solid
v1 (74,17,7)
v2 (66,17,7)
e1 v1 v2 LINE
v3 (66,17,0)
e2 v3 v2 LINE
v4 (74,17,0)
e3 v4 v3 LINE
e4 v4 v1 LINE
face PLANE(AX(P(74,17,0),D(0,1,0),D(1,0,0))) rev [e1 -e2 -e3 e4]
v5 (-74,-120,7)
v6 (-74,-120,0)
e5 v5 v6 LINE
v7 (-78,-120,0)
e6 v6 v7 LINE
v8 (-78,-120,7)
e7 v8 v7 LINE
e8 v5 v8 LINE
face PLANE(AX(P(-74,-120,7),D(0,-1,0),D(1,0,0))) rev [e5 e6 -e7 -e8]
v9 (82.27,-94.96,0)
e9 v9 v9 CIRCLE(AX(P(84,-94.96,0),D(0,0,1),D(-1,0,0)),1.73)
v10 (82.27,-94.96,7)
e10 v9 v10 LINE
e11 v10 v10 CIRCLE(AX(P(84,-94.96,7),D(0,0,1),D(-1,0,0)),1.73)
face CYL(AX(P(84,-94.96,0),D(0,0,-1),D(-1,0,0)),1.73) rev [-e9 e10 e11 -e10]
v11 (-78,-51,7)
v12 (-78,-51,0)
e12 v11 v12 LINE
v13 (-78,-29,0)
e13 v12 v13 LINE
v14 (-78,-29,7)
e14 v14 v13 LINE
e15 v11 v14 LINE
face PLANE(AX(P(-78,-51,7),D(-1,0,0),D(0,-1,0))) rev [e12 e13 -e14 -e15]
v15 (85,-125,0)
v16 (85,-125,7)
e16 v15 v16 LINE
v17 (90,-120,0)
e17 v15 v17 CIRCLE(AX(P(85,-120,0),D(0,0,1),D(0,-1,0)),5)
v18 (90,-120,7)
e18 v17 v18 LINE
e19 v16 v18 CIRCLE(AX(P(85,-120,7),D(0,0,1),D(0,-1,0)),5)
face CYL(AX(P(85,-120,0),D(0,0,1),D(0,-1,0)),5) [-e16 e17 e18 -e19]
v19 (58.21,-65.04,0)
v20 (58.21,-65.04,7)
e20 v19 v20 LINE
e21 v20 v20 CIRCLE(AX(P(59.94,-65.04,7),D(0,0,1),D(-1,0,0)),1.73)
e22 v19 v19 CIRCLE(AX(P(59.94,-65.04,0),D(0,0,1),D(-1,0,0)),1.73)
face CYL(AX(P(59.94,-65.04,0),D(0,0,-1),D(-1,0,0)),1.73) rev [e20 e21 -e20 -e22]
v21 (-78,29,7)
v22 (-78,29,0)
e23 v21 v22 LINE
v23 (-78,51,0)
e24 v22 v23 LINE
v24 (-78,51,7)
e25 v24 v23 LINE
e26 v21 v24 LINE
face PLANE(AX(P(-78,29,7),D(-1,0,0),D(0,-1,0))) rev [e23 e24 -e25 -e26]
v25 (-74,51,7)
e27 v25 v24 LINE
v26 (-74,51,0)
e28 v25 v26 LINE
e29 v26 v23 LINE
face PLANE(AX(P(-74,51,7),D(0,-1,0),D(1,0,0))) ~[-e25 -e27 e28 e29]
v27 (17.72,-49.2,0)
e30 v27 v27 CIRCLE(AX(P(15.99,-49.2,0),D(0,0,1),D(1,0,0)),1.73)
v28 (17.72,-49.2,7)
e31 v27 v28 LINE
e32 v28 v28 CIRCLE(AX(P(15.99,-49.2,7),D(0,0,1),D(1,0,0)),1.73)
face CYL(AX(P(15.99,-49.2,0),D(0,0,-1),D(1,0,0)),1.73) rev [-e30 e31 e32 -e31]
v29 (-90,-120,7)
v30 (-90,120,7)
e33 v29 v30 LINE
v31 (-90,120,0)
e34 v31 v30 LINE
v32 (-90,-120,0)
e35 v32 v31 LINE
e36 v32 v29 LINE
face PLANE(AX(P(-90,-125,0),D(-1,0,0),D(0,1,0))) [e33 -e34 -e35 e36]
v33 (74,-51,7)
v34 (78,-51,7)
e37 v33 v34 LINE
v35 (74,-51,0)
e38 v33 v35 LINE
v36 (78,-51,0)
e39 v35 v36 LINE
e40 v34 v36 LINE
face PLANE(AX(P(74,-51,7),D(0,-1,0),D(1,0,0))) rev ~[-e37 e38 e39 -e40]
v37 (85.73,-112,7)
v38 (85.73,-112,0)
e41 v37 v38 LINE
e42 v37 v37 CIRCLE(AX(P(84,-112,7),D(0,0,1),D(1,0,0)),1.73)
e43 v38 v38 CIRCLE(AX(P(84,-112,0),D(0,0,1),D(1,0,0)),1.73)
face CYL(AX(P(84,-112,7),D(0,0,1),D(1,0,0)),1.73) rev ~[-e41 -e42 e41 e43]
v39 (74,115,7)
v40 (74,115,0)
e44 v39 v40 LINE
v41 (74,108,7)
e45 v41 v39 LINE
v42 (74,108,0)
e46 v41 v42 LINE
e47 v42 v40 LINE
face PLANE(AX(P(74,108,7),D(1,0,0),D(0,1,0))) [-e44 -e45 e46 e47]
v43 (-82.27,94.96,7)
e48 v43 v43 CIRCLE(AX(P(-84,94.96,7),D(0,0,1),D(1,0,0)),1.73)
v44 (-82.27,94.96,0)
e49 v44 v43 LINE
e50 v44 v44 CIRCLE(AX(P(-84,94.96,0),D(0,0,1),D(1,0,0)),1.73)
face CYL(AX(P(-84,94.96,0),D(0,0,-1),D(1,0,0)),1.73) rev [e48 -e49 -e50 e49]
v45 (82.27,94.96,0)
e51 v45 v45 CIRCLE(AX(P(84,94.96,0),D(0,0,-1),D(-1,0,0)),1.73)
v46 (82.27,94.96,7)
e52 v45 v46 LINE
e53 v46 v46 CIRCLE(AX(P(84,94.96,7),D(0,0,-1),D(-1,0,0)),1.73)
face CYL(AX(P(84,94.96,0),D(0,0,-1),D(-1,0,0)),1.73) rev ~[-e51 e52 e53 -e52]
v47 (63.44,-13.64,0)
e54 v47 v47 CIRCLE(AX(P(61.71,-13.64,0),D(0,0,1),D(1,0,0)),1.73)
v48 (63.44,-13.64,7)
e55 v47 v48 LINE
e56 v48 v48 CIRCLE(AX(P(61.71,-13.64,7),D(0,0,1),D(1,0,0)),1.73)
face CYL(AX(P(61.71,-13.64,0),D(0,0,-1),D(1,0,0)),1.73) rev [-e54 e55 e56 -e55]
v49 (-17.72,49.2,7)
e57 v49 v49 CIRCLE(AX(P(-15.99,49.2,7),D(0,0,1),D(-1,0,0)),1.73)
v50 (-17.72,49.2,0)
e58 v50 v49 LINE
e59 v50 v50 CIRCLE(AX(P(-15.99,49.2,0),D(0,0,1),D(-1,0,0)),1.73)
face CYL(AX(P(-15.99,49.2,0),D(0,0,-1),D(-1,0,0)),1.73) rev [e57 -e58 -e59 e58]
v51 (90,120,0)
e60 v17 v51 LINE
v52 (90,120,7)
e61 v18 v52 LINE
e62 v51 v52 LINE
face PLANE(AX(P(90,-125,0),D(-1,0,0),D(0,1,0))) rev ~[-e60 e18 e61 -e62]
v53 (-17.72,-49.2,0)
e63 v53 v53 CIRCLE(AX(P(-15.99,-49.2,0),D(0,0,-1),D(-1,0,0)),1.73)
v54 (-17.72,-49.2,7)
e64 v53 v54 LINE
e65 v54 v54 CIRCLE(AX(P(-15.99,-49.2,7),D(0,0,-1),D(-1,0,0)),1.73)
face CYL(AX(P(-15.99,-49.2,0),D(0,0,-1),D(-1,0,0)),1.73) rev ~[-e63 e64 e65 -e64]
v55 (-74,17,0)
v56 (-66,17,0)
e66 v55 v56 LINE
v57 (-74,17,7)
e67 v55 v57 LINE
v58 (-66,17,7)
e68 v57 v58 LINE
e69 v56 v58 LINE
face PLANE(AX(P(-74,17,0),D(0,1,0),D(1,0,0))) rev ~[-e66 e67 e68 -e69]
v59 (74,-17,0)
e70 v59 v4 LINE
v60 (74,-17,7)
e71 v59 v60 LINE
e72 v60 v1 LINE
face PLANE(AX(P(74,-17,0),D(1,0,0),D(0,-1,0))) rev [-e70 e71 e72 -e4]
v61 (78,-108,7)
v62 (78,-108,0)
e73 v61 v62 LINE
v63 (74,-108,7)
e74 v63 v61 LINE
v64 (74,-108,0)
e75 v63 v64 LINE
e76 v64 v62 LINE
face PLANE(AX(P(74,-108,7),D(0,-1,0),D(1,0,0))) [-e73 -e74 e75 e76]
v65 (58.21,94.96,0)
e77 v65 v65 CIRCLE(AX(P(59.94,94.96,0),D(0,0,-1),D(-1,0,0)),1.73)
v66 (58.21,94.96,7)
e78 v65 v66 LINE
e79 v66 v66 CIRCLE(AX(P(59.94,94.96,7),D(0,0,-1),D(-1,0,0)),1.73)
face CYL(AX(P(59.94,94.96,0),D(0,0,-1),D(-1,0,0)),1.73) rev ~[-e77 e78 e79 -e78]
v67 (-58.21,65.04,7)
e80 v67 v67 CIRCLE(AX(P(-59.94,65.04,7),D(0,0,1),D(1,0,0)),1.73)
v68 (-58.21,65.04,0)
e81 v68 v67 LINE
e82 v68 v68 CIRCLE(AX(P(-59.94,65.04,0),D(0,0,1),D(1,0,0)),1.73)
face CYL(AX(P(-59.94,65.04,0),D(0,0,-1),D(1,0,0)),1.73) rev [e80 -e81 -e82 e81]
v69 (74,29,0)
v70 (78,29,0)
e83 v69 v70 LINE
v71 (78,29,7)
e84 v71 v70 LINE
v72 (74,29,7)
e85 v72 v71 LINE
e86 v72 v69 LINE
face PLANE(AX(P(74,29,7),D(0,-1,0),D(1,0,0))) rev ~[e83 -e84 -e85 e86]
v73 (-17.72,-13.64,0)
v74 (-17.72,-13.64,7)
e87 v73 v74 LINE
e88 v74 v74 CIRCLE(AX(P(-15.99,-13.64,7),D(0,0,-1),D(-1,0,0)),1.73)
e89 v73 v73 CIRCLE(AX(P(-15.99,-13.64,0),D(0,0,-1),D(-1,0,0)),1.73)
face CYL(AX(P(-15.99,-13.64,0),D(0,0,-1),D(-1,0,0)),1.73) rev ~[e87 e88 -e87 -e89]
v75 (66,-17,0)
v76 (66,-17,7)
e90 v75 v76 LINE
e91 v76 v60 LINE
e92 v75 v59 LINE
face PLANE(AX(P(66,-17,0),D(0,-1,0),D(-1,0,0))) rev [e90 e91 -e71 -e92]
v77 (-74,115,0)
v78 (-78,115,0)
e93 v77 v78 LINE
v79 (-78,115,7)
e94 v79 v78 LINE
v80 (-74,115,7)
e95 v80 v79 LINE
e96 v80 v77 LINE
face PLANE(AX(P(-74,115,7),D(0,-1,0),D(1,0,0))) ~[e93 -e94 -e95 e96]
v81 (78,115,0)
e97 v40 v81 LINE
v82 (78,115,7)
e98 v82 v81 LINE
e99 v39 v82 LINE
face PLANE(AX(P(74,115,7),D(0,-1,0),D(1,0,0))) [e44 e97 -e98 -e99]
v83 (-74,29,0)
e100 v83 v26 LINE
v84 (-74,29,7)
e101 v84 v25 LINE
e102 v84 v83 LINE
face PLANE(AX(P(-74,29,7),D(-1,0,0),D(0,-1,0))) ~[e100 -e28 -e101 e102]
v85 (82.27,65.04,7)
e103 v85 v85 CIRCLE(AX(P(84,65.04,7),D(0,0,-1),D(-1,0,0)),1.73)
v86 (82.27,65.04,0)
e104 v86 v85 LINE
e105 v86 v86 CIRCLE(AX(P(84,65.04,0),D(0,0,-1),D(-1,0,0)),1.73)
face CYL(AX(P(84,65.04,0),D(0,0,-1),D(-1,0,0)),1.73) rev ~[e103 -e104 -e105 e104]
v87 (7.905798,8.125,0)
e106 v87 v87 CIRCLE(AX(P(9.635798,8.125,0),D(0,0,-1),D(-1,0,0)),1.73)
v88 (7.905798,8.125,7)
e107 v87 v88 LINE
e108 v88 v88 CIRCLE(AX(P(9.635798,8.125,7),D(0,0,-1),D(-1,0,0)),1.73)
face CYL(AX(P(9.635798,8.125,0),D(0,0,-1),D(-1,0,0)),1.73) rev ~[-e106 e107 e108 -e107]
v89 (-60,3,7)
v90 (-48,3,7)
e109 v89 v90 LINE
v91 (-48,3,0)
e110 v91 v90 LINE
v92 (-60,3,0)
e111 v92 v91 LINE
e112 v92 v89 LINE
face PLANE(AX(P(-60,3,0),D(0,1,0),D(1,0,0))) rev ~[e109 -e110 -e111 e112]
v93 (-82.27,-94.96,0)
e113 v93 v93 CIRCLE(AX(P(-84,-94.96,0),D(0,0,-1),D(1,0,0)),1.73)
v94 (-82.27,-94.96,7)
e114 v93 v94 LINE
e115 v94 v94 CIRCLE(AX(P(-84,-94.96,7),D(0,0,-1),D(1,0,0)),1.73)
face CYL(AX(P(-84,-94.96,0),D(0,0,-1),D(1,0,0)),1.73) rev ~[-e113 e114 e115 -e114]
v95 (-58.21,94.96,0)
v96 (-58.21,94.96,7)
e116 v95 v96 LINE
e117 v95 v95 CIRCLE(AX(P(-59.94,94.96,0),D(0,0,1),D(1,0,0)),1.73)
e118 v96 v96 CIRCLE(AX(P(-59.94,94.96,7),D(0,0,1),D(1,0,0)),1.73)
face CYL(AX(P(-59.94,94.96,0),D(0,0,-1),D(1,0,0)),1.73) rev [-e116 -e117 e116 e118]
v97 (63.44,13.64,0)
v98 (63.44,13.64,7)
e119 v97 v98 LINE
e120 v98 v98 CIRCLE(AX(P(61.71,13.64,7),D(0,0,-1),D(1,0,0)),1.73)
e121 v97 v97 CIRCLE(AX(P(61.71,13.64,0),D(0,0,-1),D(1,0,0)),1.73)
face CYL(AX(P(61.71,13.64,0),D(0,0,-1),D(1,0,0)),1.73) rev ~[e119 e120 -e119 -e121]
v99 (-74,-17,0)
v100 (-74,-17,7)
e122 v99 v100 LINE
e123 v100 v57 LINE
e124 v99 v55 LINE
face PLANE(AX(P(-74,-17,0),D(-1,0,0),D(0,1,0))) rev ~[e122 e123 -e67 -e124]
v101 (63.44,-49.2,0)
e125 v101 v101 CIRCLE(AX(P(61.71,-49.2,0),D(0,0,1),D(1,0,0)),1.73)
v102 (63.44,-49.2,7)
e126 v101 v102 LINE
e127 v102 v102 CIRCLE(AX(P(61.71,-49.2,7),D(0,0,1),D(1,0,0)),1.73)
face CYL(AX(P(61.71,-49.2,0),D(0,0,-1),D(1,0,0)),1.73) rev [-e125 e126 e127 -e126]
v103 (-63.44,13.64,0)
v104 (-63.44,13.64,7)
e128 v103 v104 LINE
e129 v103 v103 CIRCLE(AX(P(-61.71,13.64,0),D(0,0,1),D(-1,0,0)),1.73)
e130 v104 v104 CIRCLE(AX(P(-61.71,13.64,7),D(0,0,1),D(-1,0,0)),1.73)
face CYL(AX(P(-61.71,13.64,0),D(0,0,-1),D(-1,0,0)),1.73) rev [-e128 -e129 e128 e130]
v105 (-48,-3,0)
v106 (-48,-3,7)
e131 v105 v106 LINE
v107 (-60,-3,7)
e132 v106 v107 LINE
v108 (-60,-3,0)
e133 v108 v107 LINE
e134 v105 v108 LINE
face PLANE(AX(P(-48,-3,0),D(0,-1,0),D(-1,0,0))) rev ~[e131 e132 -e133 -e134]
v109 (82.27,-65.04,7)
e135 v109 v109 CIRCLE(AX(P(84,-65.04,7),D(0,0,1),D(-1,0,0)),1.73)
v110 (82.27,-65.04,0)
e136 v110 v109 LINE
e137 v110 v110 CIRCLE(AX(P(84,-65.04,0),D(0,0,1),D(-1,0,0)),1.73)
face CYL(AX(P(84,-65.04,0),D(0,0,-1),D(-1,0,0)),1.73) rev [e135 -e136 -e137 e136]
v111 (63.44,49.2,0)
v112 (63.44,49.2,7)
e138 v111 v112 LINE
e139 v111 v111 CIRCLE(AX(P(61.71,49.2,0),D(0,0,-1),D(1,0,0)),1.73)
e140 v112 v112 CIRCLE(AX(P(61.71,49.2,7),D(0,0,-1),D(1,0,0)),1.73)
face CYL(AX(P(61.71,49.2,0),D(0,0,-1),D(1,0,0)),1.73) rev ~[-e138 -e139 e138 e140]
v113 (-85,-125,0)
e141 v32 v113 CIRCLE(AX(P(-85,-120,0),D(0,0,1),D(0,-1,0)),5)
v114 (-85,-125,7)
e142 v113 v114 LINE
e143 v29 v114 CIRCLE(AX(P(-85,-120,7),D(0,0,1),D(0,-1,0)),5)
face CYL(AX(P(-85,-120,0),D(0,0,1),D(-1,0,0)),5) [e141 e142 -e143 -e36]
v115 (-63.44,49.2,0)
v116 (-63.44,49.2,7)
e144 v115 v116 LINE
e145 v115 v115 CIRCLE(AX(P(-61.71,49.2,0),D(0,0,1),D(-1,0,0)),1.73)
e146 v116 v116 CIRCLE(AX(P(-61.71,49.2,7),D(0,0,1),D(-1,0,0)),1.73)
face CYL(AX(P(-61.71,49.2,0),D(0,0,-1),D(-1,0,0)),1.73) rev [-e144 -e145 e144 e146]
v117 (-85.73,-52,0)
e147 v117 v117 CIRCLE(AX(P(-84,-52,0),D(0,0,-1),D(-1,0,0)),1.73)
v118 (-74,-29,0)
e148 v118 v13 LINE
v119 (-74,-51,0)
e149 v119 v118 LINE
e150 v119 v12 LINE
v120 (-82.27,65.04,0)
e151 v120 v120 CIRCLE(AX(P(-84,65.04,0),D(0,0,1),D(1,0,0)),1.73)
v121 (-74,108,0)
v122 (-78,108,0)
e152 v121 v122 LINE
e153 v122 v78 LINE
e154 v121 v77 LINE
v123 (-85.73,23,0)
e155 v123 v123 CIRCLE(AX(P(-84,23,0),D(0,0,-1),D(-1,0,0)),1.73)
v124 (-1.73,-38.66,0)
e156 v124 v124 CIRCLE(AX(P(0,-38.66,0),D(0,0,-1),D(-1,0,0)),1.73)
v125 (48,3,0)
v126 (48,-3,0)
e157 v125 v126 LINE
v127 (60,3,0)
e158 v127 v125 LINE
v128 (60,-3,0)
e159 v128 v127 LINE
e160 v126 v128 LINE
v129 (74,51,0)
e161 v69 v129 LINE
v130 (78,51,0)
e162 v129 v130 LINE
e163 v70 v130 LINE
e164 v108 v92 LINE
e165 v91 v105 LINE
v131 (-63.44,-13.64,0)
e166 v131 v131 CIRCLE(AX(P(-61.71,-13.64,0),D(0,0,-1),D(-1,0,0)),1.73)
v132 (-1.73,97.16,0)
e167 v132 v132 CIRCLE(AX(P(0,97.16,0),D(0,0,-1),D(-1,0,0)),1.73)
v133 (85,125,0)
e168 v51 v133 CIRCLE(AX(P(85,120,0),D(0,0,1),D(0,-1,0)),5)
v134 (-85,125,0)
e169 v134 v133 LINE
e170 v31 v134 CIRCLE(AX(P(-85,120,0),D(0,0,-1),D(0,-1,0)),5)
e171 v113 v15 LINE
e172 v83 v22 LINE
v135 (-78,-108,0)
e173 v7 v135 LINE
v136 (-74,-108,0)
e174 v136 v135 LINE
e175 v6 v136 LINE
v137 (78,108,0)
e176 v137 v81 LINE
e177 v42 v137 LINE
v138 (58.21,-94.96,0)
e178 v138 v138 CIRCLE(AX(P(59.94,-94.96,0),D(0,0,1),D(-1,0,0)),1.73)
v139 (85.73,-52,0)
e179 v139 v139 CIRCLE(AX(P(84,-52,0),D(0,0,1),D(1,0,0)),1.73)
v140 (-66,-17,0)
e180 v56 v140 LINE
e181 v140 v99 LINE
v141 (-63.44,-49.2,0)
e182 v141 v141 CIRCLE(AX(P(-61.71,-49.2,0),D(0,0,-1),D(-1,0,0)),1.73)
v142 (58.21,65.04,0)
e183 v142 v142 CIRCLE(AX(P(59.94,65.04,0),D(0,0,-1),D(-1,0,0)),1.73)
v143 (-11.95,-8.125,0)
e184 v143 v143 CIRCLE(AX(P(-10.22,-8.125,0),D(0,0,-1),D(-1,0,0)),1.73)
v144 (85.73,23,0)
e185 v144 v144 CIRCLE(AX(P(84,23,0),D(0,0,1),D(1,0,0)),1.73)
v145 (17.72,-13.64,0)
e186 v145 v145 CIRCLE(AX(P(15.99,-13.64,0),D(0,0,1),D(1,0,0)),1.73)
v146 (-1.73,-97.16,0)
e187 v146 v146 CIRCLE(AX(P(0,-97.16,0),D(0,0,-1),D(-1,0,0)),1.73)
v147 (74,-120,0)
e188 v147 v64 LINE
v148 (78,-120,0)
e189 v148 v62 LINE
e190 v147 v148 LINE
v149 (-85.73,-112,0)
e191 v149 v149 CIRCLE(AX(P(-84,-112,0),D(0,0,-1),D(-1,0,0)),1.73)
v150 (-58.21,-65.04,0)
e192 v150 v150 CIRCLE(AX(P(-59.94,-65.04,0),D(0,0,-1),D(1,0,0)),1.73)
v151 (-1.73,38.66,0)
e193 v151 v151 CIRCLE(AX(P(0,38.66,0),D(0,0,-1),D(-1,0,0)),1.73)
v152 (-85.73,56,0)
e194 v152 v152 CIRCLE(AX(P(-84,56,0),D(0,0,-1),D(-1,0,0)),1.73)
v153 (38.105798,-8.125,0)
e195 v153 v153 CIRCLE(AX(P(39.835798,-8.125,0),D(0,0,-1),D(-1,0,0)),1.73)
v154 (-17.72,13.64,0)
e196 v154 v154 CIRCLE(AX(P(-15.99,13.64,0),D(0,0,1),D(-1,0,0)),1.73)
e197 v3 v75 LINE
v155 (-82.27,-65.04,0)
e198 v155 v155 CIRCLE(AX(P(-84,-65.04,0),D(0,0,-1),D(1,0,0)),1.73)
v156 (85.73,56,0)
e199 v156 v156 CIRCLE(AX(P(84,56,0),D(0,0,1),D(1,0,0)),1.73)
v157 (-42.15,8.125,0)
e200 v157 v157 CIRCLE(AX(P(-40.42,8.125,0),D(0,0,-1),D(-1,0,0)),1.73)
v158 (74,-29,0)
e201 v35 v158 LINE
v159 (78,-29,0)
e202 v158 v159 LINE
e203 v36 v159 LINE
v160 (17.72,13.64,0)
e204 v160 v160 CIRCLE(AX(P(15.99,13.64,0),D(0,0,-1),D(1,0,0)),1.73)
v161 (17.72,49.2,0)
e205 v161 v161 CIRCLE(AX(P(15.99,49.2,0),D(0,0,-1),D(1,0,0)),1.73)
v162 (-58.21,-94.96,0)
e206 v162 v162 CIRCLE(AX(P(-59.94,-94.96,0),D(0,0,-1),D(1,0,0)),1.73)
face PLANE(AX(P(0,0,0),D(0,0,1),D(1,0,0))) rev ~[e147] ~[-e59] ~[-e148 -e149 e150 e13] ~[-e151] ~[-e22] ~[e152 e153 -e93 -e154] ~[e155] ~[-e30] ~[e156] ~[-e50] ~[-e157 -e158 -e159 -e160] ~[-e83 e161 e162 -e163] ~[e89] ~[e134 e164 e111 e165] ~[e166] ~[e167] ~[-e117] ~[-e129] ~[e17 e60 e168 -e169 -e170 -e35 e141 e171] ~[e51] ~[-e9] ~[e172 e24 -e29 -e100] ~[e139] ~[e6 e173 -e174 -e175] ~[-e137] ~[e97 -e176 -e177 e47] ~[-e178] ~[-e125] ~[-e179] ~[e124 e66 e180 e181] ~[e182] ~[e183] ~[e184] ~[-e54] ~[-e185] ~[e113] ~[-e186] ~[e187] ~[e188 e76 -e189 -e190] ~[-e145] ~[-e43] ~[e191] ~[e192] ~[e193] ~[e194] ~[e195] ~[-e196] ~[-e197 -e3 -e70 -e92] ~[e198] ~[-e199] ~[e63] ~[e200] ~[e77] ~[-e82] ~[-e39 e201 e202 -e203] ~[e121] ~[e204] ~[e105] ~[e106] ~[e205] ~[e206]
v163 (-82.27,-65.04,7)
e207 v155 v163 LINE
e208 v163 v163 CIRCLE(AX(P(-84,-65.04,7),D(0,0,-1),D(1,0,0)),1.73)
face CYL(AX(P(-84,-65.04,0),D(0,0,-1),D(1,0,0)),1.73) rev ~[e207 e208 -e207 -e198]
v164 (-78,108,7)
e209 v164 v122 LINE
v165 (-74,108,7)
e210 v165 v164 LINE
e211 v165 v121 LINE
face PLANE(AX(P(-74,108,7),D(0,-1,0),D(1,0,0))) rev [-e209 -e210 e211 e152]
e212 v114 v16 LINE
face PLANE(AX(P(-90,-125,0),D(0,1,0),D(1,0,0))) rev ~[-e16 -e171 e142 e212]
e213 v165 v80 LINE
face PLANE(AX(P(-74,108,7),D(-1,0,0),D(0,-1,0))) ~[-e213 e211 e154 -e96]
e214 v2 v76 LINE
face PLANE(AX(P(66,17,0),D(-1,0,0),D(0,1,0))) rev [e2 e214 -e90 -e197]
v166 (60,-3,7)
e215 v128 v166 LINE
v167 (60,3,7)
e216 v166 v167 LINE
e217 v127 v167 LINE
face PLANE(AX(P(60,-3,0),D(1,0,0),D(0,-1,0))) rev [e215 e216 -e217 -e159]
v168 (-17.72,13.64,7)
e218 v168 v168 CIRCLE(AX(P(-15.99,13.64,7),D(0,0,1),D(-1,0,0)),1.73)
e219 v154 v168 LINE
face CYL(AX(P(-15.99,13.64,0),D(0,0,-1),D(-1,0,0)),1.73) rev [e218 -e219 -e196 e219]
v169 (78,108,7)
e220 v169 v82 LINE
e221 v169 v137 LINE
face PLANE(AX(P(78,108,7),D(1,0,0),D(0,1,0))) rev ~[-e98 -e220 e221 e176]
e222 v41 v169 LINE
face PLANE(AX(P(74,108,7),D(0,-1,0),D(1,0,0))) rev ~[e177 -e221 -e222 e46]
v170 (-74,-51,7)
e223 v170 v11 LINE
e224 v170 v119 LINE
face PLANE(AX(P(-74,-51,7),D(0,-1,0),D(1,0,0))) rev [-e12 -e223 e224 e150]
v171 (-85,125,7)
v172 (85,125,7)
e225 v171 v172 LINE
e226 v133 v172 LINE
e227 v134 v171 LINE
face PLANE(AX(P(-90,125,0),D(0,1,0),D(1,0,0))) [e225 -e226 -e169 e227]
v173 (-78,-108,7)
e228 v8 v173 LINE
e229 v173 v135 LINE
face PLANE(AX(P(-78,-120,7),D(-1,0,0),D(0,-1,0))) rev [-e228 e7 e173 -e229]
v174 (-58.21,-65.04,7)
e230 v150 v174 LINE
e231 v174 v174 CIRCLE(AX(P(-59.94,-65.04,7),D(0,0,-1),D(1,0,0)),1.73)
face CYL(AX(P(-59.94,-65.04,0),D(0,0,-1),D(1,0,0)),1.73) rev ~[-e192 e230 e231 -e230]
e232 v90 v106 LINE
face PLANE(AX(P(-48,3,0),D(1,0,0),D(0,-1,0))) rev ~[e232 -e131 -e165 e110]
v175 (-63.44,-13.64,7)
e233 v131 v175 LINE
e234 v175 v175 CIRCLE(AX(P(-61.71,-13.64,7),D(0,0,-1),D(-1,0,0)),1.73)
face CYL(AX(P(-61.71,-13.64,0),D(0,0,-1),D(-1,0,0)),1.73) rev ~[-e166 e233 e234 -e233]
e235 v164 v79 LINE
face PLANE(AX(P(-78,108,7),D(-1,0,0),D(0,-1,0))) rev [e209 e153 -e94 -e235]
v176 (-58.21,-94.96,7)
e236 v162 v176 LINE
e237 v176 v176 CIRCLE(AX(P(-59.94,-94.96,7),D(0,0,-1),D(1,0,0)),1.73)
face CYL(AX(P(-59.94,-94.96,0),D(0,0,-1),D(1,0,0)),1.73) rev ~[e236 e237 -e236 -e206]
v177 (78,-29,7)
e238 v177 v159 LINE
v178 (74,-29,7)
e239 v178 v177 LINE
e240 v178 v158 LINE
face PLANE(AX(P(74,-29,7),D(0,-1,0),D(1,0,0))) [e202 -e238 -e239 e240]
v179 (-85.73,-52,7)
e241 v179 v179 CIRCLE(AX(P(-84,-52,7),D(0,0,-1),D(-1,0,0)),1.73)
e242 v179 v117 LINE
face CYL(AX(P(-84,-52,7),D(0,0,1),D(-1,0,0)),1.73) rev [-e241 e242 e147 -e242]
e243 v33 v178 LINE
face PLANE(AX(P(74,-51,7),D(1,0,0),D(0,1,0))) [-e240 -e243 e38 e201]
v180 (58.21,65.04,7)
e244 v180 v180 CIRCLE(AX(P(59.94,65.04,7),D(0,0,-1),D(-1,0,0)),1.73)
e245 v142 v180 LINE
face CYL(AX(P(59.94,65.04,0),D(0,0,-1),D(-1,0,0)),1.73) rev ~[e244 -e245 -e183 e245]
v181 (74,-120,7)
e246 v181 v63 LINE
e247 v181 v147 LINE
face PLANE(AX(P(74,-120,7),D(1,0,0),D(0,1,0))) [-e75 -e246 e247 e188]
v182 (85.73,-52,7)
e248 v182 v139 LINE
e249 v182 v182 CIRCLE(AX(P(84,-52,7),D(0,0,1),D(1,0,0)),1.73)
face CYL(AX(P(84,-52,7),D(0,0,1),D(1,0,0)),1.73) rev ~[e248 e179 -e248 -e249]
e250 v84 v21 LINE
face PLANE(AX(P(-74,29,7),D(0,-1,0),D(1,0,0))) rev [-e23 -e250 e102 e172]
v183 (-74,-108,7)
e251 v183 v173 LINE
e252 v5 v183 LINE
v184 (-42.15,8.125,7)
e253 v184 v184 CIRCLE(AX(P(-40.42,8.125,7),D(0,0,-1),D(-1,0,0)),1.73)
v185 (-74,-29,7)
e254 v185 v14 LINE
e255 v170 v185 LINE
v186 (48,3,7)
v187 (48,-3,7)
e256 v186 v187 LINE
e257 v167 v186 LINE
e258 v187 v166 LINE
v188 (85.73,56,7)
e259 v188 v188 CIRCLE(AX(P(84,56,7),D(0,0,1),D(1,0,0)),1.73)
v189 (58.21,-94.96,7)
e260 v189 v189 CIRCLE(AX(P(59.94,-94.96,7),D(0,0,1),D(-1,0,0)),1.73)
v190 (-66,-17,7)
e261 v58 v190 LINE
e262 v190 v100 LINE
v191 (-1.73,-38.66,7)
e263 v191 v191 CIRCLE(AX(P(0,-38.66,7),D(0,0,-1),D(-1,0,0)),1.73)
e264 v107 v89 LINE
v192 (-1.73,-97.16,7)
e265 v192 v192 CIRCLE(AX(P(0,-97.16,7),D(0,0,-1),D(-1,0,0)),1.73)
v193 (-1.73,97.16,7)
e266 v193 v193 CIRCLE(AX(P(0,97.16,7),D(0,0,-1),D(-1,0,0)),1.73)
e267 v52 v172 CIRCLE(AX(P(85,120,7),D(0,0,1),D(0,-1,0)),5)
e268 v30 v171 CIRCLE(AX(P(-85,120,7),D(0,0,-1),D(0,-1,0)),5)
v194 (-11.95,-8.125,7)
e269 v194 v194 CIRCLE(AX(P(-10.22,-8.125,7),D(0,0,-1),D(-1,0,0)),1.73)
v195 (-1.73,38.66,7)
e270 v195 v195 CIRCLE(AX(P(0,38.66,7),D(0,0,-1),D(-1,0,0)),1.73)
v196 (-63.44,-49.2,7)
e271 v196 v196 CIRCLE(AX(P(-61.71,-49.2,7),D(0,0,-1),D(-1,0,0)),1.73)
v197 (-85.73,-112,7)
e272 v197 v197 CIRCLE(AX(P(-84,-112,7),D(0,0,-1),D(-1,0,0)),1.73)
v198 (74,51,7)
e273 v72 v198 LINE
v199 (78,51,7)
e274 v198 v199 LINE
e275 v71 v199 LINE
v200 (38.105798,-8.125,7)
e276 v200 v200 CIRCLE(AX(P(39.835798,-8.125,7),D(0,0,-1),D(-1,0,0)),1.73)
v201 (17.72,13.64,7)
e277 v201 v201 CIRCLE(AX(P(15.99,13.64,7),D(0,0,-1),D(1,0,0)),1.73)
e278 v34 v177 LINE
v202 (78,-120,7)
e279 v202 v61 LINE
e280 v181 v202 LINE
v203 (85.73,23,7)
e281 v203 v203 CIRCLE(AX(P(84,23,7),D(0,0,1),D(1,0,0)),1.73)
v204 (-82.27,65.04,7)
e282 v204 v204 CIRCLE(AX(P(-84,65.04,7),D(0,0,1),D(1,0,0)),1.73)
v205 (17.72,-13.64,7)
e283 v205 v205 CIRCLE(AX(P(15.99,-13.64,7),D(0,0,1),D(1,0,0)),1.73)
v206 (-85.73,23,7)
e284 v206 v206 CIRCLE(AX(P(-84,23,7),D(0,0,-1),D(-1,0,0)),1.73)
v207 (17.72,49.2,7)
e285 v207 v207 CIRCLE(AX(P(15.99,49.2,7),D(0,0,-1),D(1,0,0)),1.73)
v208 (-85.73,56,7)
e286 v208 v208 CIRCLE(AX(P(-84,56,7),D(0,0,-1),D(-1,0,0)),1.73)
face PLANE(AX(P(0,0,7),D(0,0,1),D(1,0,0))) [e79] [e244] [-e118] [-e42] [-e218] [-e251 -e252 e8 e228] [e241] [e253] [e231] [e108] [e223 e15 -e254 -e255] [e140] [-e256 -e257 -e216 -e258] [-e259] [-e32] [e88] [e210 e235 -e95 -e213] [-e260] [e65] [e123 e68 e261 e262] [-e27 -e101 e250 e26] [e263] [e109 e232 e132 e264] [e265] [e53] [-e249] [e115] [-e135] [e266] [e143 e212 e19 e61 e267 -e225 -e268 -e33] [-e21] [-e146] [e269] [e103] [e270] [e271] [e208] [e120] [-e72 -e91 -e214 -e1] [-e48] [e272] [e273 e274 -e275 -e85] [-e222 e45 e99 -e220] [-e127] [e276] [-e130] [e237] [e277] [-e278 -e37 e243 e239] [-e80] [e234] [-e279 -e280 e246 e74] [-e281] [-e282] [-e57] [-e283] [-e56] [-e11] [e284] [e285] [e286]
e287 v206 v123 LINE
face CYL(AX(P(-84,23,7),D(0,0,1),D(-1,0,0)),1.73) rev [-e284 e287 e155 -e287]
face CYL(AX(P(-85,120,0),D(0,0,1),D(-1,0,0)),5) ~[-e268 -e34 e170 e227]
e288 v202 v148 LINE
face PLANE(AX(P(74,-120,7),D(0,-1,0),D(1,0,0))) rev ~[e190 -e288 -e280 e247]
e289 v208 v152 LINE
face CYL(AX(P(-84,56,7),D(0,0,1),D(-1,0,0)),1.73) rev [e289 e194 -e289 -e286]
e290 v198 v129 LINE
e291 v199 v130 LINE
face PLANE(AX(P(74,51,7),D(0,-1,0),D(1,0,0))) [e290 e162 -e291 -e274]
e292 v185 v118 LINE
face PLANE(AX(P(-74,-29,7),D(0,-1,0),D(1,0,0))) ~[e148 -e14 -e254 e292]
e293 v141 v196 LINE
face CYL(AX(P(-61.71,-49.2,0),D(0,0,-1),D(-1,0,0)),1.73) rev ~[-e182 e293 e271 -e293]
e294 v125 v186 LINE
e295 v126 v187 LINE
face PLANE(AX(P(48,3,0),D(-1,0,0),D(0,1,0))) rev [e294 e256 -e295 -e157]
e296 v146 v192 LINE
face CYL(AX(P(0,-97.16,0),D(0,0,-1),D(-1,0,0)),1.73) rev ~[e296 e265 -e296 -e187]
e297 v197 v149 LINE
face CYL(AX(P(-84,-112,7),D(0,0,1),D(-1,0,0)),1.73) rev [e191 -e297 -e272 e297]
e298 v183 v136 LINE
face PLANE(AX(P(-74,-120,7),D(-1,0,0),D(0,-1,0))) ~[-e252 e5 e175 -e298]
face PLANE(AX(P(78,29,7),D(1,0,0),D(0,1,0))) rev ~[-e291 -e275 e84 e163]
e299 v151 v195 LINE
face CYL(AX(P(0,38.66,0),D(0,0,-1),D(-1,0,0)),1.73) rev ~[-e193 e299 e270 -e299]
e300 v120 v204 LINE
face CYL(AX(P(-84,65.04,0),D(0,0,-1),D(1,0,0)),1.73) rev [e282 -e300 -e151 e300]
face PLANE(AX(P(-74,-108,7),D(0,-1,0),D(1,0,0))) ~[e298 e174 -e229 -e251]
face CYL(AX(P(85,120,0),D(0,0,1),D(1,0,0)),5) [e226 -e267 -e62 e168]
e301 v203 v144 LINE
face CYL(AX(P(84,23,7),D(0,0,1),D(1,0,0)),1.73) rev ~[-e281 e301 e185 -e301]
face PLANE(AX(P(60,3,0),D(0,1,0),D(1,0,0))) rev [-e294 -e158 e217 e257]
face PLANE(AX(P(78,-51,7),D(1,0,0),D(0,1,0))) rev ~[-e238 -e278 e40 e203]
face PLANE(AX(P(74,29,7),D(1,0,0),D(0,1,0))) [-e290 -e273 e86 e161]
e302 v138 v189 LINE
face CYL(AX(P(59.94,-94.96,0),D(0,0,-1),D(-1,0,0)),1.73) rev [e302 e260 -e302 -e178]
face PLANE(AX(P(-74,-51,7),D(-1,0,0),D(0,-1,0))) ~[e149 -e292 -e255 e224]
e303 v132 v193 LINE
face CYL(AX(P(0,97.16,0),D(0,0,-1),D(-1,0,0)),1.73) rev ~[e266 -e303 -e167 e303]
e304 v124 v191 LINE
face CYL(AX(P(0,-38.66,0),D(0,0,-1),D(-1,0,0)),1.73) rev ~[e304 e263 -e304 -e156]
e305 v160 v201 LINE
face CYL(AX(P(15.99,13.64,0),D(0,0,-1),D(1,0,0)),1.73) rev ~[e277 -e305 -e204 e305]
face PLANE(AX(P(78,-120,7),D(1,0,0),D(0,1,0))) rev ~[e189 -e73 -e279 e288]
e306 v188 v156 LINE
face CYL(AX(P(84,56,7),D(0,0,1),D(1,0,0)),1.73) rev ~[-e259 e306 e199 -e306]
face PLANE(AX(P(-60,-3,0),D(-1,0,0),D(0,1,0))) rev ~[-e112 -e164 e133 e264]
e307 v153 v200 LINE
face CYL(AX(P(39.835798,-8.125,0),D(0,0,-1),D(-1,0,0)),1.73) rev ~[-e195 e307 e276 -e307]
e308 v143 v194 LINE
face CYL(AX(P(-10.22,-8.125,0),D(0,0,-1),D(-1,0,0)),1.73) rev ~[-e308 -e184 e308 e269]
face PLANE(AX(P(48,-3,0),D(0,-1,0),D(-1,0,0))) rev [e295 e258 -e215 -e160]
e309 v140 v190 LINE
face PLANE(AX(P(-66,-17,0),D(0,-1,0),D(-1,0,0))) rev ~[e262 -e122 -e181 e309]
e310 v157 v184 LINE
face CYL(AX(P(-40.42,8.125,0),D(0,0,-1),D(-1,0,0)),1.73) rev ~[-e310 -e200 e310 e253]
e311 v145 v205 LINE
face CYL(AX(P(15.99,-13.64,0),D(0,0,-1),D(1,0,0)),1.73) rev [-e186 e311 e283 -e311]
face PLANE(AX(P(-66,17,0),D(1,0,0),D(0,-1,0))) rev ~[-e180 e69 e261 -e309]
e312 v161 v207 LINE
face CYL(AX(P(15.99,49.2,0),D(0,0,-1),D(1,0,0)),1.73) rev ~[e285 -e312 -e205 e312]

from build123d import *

# Parameters (mm, degrees)
SKETCH1_W               = 180
SKETCH1_H               = 250
BOSS_EXTRUDE1_DEPTH     = 7
FILLET1_R               = 5
SKETCH4_R               = 1.73
CUT_EXTRUDE2_DEPTH      = 7
MIRROR4_COPY_1_SKETCH_R = 1.73
MIRROR4_COPY_1_DEPTH    = 7
SKETCH6_R               = 1.73
CUT_EXTRUDE3_DEPTH      = 7
MIRROR7_COPY_1_SKETCH_R = 1.73
MIRROR7_COPY_1_DEPTH    = 7
SKETCH7_R               = 1.73
CUT_EXTRUDE5_DEPTH      = 7
CUT_EXTRUDE8_DEPTH      = 7
SKETCH10_W              = 4
SKETCH10_H              = 7
CUT_EXTRUDE14_DEPTH     = 7
SKETCH10_9_W            = 4
SKETCH10_9_H            = 22
CUT_EXTRUDE15_DEPTH     = 7
SKETCH10_10_W           = 4
SKETCH10_10_H           = 22
CUT_EXTRUDE16_DEPTH     = 7
SKETCH10_11_W           = 4
SKETCH10_11_H           = 12
CUT_EXTRUDE17_DEPTH     = 7
SKETCH16_R              = 1.73
CUT_EXTRUDE18_DEPTH     = 7
SKETCH17_R              = 1.73
CUT_EXTRUDE19_DEPTH     = 7


with BuildPart() as part:
    # Sketch1 → Boss-Extrude1 (new body)
    with BuildSketch(Plane.XY):
        Rectangle(SKETCH1_W, SKETCH1_H)
    extrude(amount=BOSS_EXTRUDE1_DEPTH)

    # Fillet1
    fillet1_edges = [part.edges().sort_by_distance(p)[0] for p in [
        (90, -125, 3.5),
        (-90, -125, 3.5),
        (-90, 125, 3.5),
        (90, 125, 3.5),
    ]]
    fillet(fillet1_edges, radius=FILLET1_R)

    # Sketch4 → Cut-Extrude2 (cut)
    with BuildSketch(Plane(origin=(0, 0, 0), x_dir=(-1, 0, 0), z_dir=(0, 0, -1))):
        with Locations((-59.94, 94.96)):
            Circle(SKETCH4_R)
        with Locations((-84, 94.96)):
            Circle(SKETCH4_R)
        with Locations((-84, 65.04)):
            Circle(SKETCH4_R)
        with Locations((-59.94, 65.04)):
            Circle(SKETCH4_R)
    cut_extrude2 = extrude(amount=-CUT_EXTRUDE2_DEPTH, mode=Mode.SUBTRACT)

    # Mirror3: Cut-Extrude2 across plane
    add(cut_extrude2.mirror(Plane(origin=(0, 0, 0), x_dir=(0, 0, 1), z_dir=(1, 0, 0))), mode=Mode.SUBTRACT)

    # Mirror4: Cut-Extrude2 across plane
    add(cut_extrude2.mirror(Plane.ZX), mode=Mode.SUBTRACT)

    # Mirror4 copy 1 sketch → Mirror4 copy 1 (cut)
    with BuildSketch(Plane(origin=(0, 0, 0), x_dir=(1, 0, 0), z_dir=(0, 0, -1))):
        with Locations((-59.94, 94.96)):
            Circle(MIRROR4_COPY_1_SKETCH_R)
        with Locations((-84, 94.96)):
            Circle(MIRROR4_COPY_1_SKETCH_R)
        with Locations((-84, 65.04)):
            Circle(MIRROR4_COPY_1_SKETCH_R)
        with Locations((-59.94, 65.04)):
            Circle(MIRROR4_COPY_1_SKETCH_R)
    extrude(amount=-MIRROR4_COPY_1_DEPTH, mode=Mode.SUBTRACT)

    # Sketch6 → Cut-Extrude3 (cut)
    with BuildSketch(Plane(origin=(0, 0, 0), x_dir=(-1, 0, 0), z_dir=(0, 0, -1))):
        with Locations((61.71, -13.64)):
            Circle(SKETCH6_R)
        with Locations((15.99, -13.64)):
            Circle(SKETCH6_R)
        with Locations((15.99, -49.2)):
            Circle(SKETCH6_R)
        with Locations((61.71, -49.2)):
            Circle(SKETCH6_R)
    cut_extrude3 = extrude(amount=-CUT_EXTRUDE3_DEPTH, mode=Mode.SUBTRACT)

    # Mirror5: Cut-Extrude3 across plane
    add(cut_extrude3.mirror(Plane(origin=(0, 0, 0), x_dir=(0, 0, 1), z_dir=(1, 0, 0))), mode=Mode.SUBTRACT)

    # Mirror7: Cut-Extrude3 across plane
    add(cut_extrude3.mirror(Plane.ZX), mode=Mode.SUBTRACT)

    # Mirror7 copy 1 sketch → Mirror7 copy 1 (cut)
    with BuildSketch(Plane(origin=(0, 0, 0), x_dir=(1, 0, 0), z_dir=(0, 0, -1))):
        with Locations((61.71, -13.64)):
            Circle(MIRROR7_COPY_1_SKETCH_R)
        with Locations((15.99, -13.64)):
            Circle(MIRROR7_COPY_1_SKETCH_R)
        with Locations((15.99, -49.2)):
            Circle(MIRROR7_COPY_1_SKETCH_R)
        with Locations((61.71, -49.2)):
            Circle(MIRROR7_COPY_1_SKETCH_R)
    extrude(amount=-MIRROR7_COPY_1_DEPTH, mode=Mode.SUBTRACT)

    # Sketch7 → Cut-Extrude5 (cut)
    with BuildSketch(Plane(origin=(0, 0, 0), x_dir=(-1, 0, 0), z_dir=(0, 0, -1))):
        with Locations((-9.635797548, 8.125)):
            Circle(SKETCH7_R)
        with Locations((10.22, -8.125)):
            Circle(SKETCH7_R)
        with Locations((-39.835797548, -8.125)):
            Circle(SKETCH7_R)
        with Locations((40.42, 8.125)):
            Circle(SKETCH7_R)
    extrude(amount=-CUT_EXTRUDE5_DEPTH, mode=Mode.SUBTRACT)

    # Sketch9 → Cut-Extrude8 (cut)
    with BuildSketch(Plane(origin=(0, 0, 0), x_dir=(-1, 0, 0), z_dir=(0, 0, -1))):
        Polygon((74, 0), (74, 17), (66, 17), (66, -17), (74, -17), align=None)
        Polygon((60, 0), (60, 3), (48, 3), (48, -3), (60, -3), align=None)
    cut_extrude8 = extrude(amount=-CUT_EXTRUDE8_DEPTH, mode=Mode.SUBTRACT)

    # Mirror9: Cut-Extrude8 across plane
    add(cut_extrude8.mirror(Plane(origin=(0, 0, 0), x_dir=(0, 0, 1), z_dir=(1, 0, 0))), mode=Mode.SUBTRACT)

    # Sketch10 → Cut-Extrude14 (cut)
    with BuildSketch(Plane.XY.offset(7)):
        with Locations((76, 111.5)):
            Rectangle(SKETCH10_W, SKETCH10_H)
    cut_extrude14 = extrude(amount=-CUT_EXTRUDE14_DEPTH, mode=Mode.SUBTRACT)

    # Sketch10<9> → Cut-Extrude15 (cut)
    with BuildSketch(Plane.XY.offset(7)):
        with Locations((76, 40)):
            Rectangle(SKETCH10_9_W, SKETCH10_9_H)
    cut_extrude15 = extrude(amount=-CUT_EXTRUDE15_DEPTH, mode=Mode.SUBTRACT)

    # Sketch10<10> → Cut-Extrude16 (cut)
    with BuildSketch(Plane.XY.offset(7)):
        with Locations((76, -40)):
            Rectangle(SKETCH10_10_W, SKETCH10_10_H)
    cut_extrude16 = extrude(amount=-CUT_EXTRUDE16_DEPTH, mode=Mode.SUBTRACT)

    # Sketch10<11> → Cut-Extrude17 (cut)
    with BuildSketch(Plane.XY.offset(7)):
        with Locations((76, -114)):
            Rectangle(SKETCH10_11_W, SKETCH10_11_H)
    cut_extrude17 = extrude(amount=-CUT_EXTRUDE17_DEPTH, mode=Mode.SUBTRACT)

    # Mirror11: Cut-Extrude14, Cut-Extrude15, Cut-Extrude16, Cut-Extrude17 across plane
    add(cut_extrude14.mirror(Plane(origin=(0, 0, 0), x_dir=(0, 0, 1), z_dir=(1, 0, 0))), mode=Mode.SUBTRACT)
    add(cut_extrude15.mirror(Plane(origin=(0, 0, 0), x_dir=(0, 0, 1), z_dir=(1, 0, 0))), mode=Mode.SUBTRACT)
    add(cut_extrude16.mirror(Plane(origin=(0, 0, 0), x_dir=(0, 0, 1), z_dir=(1, 0, 0))), mode=Mode.SUBTRACT)
    add(cut_extrude17.mirror(Plane(origin=(0, 0, 0), x_dir=(0, 0, 1), z_dir=(1, 0, 0))), mode=Mode.SUBTRACT)

    # Sketch16 → Cut-Extrude18 (cut)
    with BuildSketch(Plane.XY.offset(7)):
        with Locations((84, -112)):
            Circle(SKETCH16_R)
        with Locations((84, -52)):
            Circle(SKETCH16_R)
        with Locations((84, 23)):
            Circle(SKETCH16_R)
        with Locations((84, 56)):
            Circle(SKETCH16_R)
    cut_extrude18 = extrude(amount=-CUT_EXTRUDE18_DEPTH, mode=Mode.SUBTRACT)

    # Mirror12: Cut-Extrude18 across plane
    add(cut_extrude18.mirror(Plane(origin=(0, 0, 0), x_dir=(0, 0, 1), z_dir=(1, 0, 0))), mode=Mode.SUBTRACT)

    # Sketch17 → Cut-Extrude19 (cut)
    with BuildSketch(Plane(origin=(0, 0, 0), x_dir=(-1, 0, 0), z_dir=(0, 0, -1))):
        with Locations((0, -97.16)):
            Circle(SKETCH17_R)
        with Locations((0, -38.66)):
            Circle(SKETCH17_R)
        with Locations((0, 97.16)):
            Circle(SKETCH17_R)
        with Locations((0, 38.66)):
            Circle(SKETCH17_R)
    extrude(amount=-CUT_EXTRUDE19_DEPTH, mode=Mode.SUBTRACT)


solid = part.part
